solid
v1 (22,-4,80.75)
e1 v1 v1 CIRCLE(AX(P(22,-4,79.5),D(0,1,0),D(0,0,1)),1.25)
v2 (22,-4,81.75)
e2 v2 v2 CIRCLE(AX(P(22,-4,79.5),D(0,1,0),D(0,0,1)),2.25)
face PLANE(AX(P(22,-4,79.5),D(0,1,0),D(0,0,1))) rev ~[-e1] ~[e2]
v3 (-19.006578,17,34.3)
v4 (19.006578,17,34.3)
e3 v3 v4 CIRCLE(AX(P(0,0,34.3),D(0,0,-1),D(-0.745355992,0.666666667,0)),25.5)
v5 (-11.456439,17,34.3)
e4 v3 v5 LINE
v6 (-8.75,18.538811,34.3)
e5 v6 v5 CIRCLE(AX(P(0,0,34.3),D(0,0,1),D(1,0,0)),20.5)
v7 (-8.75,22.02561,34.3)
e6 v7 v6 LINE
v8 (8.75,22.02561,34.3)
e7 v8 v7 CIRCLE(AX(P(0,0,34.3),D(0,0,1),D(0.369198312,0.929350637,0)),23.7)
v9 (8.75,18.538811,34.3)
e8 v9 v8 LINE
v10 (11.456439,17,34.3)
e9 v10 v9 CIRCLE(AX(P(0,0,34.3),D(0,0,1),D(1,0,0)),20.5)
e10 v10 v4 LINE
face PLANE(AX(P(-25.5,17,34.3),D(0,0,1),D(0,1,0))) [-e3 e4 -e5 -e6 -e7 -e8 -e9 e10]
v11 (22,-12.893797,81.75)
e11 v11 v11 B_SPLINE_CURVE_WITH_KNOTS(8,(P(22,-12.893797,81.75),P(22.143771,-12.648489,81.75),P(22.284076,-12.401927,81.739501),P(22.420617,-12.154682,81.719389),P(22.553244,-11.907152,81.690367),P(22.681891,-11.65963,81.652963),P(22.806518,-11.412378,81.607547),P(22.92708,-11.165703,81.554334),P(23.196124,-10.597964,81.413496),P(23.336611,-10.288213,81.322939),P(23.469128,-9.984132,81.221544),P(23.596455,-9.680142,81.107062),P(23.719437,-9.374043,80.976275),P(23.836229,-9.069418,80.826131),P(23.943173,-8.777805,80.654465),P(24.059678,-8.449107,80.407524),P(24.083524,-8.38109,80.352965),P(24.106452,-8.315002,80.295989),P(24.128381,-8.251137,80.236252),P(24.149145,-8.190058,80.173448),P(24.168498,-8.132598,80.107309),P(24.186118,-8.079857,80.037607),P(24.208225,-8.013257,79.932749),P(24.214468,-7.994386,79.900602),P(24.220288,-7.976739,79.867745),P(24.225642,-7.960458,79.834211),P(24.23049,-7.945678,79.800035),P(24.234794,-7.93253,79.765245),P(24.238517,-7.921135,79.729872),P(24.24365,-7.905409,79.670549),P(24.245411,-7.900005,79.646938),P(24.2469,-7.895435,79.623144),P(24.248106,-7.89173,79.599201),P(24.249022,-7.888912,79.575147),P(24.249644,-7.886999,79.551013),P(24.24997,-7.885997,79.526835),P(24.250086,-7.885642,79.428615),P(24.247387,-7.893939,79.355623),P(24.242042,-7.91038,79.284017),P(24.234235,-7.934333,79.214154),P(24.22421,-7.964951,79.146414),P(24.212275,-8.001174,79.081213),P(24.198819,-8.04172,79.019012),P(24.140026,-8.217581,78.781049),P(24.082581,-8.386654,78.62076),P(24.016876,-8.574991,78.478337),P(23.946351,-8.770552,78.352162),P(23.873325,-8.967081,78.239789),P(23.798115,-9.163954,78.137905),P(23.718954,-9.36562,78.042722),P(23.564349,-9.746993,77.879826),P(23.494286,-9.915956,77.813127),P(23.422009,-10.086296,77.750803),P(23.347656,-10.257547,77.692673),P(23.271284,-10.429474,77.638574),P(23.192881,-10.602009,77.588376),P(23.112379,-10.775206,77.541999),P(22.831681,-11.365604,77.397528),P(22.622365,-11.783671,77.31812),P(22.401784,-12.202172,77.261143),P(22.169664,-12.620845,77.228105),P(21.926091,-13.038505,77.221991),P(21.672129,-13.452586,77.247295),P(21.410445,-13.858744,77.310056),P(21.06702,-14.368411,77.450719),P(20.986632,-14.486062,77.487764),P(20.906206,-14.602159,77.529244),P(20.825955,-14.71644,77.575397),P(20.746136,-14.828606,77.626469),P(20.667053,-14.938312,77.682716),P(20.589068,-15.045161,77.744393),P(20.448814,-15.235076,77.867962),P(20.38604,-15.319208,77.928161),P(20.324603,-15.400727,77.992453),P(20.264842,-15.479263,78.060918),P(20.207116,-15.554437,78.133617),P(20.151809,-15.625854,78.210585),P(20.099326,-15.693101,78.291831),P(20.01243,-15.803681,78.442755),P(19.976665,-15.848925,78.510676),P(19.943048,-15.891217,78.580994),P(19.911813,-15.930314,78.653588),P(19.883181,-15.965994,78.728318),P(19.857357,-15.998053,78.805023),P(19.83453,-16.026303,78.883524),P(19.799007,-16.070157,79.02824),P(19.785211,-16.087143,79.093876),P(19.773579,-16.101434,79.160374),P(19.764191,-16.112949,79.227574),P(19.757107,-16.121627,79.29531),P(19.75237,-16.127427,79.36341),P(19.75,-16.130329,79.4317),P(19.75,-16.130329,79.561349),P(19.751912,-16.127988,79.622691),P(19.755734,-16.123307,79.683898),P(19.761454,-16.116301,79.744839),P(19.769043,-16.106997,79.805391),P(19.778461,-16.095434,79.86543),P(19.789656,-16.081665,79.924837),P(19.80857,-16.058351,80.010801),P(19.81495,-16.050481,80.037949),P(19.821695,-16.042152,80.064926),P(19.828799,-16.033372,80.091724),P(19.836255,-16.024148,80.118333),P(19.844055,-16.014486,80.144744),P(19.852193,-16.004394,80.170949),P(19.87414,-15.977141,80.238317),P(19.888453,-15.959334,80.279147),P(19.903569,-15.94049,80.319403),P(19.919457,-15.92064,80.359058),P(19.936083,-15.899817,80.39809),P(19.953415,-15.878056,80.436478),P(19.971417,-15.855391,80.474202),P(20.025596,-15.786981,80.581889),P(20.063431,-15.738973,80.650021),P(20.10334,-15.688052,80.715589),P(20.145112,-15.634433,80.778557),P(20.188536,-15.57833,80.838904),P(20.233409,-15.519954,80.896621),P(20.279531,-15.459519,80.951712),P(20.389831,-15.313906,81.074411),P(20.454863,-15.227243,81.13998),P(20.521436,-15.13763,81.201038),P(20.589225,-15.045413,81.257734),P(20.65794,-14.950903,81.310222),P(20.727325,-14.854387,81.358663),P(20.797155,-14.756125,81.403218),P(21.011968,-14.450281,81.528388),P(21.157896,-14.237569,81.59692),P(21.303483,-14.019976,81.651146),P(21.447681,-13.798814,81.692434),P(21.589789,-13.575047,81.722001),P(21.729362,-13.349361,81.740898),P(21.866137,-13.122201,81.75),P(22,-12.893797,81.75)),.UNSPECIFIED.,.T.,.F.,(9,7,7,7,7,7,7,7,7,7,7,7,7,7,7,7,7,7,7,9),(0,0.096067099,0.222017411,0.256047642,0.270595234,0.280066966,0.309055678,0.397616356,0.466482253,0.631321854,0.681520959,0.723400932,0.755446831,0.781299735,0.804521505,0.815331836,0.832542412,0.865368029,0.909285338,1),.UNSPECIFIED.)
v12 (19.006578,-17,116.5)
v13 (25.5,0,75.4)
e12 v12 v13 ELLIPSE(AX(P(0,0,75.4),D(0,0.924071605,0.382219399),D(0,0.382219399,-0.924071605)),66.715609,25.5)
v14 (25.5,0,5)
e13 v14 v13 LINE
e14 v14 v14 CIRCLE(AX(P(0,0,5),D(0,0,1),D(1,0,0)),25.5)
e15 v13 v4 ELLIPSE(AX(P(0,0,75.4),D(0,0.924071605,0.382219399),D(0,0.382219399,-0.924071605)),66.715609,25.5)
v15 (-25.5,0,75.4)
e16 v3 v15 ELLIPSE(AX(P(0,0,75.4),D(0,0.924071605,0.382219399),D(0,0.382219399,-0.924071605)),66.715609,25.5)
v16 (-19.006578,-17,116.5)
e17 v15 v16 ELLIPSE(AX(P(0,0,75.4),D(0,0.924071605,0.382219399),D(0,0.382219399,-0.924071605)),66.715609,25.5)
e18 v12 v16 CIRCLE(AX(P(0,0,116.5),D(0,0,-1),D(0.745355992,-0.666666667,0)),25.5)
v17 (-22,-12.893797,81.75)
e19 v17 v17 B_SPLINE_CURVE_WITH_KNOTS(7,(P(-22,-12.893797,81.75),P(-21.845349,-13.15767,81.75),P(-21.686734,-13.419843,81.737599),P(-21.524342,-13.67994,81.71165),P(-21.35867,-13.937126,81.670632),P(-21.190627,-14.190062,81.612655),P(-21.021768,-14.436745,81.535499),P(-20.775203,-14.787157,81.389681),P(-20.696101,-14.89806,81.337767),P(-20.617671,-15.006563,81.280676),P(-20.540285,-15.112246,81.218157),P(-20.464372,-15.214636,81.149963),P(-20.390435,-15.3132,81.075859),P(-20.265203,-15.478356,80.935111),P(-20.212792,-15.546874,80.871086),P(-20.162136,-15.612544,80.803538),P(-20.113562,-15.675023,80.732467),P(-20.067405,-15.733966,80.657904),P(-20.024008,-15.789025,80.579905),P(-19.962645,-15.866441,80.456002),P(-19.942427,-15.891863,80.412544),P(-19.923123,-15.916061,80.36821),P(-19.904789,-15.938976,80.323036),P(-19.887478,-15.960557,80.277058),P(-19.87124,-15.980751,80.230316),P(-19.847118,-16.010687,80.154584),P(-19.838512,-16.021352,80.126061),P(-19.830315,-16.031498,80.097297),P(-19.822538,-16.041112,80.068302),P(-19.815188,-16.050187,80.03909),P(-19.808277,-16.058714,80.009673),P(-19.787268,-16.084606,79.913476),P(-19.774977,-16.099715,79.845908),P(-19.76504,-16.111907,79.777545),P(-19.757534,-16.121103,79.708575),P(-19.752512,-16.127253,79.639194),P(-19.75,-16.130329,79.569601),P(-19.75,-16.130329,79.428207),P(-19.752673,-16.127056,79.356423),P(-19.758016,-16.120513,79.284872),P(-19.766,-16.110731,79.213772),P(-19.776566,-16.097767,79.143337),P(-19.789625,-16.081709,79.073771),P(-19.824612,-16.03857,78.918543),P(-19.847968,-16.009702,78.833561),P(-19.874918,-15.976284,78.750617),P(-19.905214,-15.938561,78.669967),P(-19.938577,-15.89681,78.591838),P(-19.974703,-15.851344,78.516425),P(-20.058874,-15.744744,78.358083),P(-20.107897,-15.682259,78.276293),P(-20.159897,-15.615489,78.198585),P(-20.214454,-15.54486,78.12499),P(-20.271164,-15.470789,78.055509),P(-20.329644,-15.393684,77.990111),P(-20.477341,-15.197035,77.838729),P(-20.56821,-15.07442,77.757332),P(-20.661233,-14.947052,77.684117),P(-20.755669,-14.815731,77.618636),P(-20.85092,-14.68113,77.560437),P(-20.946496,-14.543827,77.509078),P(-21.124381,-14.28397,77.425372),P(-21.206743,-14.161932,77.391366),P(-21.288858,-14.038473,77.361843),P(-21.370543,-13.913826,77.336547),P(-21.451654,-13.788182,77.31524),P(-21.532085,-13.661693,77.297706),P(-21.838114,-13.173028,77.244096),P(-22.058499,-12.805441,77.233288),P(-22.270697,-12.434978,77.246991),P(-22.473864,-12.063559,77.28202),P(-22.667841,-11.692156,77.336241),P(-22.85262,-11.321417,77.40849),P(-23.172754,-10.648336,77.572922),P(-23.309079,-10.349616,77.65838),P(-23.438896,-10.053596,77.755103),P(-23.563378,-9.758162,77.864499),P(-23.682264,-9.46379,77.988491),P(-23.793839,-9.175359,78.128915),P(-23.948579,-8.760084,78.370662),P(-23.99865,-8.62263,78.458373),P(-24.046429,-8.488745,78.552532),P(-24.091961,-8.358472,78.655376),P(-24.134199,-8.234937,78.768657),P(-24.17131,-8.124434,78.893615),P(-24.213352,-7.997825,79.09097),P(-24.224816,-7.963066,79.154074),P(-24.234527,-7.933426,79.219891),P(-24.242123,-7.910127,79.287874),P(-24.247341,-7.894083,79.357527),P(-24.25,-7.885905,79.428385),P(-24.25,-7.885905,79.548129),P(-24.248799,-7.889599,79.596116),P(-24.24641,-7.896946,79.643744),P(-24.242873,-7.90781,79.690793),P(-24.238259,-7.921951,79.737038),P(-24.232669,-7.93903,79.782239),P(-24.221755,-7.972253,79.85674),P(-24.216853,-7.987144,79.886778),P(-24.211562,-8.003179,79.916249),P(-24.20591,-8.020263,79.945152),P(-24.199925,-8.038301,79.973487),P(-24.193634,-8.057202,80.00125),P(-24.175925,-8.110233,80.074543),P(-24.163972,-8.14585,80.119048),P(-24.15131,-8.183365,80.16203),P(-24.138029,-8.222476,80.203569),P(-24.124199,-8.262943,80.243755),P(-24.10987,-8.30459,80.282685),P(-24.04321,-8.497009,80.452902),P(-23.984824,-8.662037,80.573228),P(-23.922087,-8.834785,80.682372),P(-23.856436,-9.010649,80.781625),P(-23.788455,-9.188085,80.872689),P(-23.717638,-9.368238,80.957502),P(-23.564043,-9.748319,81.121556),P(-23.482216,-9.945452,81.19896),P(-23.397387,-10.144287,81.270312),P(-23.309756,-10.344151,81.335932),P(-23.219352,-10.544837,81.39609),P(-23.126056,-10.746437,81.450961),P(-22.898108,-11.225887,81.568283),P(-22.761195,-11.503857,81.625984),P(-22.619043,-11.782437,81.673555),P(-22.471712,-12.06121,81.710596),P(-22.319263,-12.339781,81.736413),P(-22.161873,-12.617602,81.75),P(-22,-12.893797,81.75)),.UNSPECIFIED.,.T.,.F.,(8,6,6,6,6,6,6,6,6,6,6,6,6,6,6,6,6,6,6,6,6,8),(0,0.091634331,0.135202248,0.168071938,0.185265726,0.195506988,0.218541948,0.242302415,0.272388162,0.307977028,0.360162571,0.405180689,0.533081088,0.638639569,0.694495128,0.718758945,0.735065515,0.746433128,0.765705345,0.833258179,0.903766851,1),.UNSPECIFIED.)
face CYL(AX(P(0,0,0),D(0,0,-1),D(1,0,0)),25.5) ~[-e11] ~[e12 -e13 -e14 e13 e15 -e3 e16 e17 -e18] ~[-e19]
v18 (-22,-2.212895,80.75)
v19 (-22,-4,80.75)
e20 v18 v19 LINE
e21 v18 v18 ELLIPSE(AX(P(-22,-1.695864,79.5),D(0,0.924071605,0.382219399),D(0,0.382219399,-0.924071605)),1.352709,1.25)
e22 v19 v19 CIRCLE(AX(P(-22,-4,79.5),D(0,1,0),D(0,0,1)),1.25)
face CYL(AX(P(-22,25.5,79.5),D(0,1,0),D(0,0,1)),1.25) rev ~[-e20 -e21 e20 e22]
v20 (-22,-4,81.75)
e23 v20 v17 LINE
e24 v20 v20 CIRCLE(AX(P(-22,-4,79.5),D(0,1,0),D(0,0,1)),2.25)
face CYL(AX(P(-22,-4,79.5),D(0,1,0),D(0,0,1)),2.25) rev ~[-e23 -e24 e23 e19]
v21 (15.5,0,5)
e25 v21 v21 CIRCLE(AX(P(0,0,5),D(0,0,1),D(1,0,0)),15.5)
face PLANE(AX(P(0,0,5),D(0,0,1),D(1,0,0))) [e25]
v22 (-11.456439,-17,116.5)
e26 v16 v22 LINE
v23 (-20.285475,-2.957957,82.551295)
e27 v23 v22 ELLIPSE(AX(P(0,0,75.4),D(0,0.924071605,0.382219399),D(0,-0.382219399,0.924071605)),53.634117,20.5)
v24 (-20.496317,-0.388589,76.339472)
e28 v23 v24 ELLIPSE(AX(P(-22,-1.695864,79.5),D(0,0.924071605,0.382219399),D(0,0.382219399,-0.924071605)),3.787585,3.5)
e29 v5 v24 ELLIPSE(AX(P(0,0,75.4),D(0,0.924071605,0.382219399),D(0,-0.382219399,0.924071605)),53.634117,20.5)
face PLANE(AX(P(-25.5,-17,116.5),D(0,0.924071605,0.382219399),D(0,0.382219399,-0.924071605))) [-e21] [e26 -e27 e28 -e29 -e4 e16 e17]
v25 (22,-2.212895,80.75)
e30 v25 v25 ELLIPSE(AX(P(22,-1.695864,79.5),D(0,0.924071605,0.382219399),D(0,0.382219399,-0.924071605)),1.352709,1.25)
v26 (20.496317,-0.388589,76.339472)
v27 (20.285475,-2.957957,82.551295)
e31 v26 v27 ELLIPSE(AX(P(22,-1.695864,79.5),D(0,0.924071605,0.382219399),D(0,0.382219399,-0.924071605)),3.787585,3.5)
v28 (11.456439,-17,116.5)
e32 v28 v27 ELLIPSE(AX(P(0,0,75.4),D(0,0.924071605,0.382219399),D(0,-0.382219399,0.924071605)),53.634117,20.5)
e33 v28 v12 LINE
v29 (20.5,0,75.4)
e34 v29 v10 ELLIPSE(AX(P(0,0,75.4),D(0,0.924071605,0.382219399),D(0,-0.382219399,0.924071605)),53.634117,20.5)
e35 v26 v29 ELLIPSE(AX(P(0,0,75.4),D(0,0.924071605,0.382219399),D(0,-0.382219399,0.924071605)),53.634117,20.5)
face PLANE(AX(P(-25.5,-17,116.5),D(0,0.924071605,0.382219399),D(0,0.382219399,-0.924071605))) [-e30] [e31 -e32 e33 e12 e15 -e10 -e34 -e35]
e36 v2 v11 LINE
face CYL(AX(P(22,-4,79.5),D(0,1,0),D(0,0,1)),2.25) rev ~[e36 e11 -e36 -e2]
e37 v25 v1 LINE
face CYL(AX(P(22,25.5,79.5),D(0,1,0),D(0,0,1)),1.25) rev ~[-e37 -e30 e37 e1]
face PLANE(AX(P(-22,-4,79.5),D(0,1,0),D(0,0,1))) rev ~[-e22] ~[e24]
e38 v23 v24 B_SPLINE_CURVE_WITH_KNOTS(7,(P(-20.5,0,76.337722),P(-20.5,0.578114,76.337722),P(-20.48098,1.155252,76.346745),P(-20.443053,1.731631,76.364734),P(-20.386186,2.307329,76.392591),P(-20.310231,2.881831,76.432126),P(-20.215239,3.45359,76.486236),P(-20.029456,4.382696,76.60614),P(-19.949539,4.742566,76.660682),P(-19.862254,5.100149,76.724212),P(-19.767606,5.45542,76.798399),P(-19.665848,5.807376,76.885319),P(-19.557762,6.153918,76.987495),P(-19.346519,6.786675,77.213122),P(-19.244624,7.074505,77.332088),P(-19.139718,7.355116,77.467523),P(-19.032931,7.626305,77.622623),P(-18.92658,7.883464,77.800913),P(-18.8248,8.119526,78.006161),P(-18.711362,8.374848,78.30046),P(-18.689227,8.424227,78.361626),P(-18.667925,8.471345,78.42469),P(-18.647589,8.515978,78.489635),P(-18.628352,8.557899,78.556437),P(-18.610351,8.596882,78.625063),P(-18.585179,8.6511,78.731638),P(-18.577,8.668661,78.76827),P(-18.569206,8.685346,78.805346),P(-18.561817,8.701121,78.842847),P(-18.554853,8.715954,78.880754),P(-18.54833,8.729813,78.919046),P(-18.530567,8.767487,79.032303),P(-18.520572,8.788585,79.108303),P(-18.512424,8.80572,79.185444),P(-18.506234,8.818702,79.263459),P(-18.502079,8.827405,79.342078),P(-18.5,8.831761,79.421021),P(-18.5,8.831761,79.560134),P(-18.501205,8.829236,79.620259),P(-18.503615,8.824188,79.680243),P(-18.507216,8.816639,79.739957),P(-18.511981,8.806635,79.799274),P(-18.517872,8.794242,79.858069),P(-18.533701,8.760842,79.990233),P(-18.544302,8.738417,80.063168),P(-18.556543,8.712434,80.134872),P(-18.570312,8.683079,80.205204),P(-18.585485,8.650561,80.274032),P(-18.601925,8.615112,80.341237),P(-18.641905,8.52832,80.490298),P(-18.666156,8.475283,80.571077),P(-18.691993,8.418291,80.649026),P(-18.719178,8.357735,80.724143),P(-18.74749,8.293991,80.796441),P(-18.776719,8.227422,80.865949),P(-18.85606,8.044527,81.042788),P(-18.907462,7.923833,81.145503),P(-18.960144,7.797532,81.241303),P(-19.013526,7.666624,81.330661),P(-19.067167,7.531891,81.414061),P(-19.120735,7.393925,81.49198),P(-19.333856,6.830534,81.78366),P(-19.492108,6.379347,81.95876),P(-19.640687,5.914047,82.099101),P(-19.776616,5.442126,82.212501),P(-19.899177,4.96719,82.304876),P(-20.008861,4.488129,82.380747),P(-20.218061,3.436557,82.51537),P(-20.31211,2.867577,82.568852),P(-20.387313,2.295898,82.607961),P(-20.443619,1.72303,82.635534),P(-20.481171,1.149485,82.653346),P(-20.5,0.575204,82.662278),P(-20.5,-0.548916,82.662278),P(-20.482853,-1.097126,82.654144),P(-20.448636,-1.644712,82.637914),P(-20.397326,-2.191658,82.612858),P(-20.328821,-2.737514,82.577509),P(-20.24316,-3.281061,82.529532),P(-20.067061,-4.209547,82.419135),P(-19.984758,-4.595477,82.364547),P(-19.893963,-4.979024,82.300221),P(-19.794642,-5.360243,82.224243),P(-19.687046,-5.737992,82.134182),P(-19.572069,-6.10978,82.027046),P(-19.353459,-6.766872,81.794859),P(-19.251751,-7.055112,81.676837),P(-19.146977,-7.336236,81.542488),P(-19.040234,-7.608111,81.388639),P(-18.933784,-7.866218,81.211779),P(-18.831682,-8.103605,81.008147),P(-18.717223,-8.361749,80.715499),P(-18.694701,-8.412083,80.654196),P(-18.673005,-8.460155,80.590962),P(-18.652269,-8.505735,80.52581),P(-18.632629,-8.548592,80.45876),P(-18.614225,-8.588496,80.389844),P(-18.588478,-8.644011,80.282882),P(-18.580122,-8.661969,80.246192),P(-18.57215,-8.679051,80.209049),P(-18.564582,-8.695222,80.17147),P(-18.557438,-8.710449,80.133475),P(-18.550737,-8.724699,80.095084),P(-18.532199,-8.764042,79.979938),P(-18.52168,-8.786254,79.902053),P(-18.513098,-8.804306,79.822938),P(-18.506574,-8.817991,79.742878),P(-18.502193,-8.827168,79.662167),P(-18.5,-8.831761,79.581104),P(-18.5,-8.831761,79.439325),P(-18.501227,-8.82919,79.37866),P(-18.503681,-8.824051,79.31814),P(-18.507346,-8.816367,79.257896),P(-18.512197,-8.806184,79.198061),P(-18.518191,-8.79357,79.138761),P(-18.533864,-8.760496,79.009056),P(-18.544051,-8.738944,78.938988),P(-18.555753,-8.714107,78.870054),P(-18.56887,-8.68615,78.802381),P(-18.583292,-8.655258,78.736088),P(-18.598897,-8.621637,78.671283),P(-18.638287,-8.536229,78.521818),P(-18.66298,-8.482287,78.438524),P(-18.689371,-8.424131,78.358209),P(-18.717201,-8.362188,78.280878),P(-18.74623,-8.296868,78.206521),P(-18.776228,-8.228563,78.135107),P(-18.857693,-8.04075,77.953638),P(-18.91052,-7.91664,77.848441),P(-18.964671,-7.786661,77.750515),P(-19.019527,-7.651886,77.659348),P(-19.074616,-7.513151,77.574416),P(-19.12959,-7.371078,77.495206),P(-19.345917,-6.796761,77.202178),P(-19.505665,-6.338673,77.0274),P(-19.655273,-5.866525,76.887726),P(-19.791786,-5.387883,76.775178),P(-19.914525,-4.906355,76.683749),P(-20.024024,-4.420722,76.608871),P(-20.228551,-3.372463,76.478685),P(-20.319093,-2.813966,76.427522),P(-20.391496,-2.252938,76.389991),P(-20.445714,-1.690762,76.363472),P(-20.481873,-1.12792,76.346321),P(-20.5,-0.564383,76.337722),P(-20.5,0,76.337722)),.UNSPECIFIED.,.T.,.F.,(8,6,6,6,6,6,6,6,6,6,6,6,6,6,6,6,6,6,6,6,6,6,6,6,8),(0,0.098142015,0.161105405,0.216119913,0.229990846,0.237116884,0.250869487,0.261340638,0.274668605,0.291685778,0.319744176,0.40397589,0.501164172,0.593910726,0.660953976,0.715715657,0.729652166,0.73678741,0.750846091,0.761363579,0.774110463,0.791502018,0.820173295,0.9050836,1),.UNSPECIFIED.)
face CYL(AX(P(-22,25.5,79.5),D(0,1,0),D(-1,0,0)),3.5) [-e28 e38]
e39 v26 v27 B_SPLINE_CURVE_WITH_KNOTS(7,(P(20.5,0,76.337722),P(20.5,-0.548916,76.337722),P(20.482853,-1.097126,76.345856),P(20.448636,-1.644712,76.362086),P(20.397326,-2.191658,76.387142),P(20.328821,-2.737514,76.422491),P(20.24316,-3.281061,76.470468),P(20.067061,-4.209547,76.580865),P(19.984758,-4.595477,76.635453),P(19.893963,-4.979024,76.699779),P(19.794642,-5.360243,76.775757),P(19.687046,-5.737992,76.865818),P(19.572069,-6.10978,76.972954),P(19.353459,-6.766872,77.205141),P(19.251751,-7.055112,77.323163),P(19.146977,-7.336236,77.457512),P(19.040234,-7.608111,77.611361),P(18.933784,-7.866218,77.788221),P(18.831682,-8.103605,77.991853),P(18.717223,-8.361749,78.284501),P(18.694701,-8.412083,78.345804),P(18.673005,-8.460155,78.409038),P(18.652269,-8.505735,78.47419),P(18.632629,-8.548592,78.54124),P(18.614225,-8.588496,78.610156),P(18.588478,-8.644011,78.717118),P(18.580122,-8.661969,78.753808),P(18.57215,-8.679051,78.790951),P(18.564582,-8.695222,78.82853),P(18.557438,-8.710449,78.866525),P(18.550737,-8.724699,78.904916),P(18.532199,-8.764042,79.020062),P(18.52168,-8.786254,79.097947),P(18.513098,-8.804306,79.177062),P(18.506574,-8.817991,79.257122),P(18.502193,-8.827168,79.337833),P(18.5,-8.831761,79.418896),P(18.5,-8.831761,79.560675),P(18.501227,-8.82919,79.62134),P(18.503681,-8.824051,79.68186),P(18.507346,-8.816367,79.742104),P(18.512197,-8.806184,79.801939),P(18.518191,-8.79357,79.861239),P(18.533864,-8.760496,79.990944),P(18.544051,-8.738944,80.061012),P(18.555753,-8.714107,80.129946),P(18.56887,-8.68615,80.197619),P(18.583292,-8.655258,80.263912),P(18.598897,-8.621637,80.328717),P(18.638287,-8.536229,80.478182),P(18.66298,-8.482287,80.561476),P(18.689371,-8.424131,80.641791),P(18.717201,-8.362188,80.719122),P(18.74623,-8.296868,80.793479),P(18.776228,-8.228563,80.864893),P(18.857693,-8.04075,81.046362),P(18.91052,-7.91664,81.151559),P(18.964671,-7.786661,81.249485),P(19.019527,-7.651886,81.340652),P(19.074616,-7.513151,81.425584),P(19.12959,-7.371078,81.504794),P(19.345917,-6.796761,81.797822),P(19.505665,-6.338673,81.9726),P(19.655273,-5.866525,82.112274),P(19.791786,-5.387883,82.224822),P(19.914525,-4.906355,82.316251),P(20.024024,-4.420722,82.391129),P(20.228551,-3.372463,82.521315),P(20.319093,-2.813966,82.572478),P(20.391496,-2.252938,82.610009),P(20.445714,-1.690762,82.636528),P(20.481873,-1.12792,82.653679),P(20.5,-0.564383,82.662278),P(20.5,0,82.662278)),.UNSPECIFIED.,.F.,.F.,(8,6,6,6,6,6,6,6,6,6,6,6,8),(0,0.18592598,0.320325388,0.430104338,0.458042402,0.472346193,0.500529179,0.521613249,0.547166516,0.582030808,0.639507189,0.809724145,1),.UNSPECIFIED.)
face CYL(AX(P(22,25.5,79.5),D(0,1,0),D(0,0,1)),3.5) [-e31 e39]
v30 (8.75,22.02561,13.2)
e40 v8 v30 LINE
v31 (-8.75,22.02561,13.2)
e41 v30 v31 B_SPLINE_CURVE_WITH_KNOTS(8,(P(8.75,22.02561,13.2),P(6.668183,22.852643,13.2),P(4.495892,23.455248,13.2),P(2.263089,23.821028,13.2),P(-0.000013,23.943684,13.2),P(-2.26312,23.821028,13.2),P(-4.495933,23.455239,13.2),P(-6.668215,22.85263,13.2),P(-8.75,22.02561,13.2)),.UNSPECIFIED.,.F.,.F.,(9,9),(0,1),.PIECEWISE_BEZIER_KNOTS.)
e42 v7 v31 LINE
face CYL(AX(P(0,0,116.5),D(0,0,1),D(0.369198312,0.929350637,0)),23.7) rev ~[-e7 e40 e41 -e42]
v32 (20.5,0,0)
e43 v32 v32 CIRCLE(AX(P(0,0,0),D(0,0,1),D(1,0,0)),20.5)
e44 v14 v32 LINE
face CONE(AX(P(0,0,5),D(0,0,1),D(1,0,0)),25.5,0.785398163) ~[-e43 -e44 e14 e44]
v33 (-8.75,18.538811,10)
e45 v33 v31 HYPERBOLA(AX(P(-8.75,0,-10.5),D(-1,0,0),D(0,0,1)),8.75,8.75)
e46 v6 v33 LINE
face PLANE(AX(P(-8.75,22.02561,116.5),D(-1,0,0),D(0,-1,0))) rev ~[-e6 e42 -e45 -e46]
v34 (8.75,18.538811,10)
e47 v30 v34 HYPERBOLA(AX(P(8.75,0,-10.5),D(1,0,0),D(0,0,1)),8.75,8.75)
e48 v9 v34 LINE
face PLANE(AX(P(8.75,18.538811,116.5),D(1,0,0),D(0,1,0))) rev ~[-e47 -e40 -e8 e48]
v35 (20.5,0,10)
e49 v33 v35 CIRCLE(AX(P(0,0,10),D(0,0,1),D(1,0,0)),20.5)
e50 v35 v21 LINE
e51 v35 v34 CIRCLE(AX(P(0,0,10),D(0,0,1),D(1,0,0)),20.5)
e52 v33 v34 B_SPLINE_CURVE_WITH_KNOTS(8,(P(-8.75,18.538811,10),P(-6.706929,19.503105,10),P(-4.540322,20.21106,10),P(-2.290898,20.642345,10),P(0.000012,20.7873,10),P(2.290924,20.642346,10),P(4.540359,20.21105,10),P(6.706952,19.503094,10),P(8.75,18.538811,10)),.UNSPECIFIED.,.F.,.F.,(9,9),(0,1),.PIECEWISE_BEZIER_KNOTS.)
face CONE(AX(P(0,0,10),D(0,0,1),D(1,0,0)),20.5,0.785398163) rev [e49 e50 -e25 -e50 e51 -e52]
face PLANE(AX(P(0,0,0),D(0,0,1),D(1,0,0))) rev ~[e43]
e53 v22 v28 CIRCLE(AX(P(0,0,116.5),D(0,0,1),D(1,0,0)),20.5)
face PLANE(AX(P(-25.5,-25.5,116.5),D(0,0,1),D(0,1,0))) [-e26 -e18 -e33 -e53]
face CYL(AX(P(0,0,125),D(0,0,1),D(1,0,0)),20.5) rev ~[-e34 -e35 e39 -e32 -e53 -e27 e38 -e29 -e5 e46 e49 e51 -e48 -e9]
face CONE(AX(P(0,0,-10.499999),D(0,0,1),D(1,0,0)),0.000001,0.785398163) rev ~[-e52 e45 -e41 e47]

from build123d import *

# Parameters (mm, degrees)
SKETCH1_R           = 25.5
BOSS_EXTRUDE1_DEPTH = 125
SKETCH2_R           = 20.5
CUT_EXTRUDE1_DEPTH  = 120
SKETCH8_R           = 3.5
BOSS_EXTRUDE2_DEPTH = 42
SKETCH9_R           = 40.683709713
SKETCH9_R_2         = 25.5
CUT_EXTRUDE7_DEPTH  = 131.09804009
CUT_EXTRUDE2_DEPTH  = 138.390865927
SKETCH10_R          = 1.25
CUT_EXTRUDE9_DEPTH  = 130.705435597
CHAMFER2_SIZE       = 5
SKETCH11_R          = 2.25
CUT_EXTRUDE10_DEPTH = 123.852554041
CUT_EXTRUDE11_REACH = 123.954


with BuildPart() as part:
    # Sketch1 → Boss-Extrude1 (new body)
    with BuildSketch(Plane.XY):
        Circle(SKETCH1_R)
    extrude(amount=BOSS_EXTRUDE1_DEPTH)

    # Sketch2 → Cut-Extrude1 (cut)
    with BuildSketch(Plane.XY.offset(125)):
        Circle(SKETCH2_R)
    extrude(amount=-CUT_EXTRUDE1_DEPTH, mode=Mode.SUBTRACT)

    # Sketch8 → Boss-Extrude2 (add)
    with BuildSketch(Plane(origin=(0, 25.5, 0), x_dir=(1, 0, 0), z_dir=(0, 1, 0))):
        with Locations(Location((22, -79.5, 0), (0, 0, 270))):
            Circle(SKETCH8_R)
        with Locations(Location((-22, -79.5, 0), (0, 0, 180))):
            Circle(SKETCH8_R)
    extrude(amount=-BOSS_EXTRUDE2_DEPTH)

    # Sketch9 → Cut-Extrude7 (cut, through all)
    with BuildSketch(Plane.XY.offset(125)):
        Circle(SKETCH9_R)
        Circle(SKETCH9_R_2, mode=Mode.SUBTRACT)
    extrude(amount=-CUT_EXTRUDE7_DEPTH, mode=Mode.SUBTRACT)

    # Sketch3 → Cut-Extrude2 (cut, through all)
    with BuildSketch(Plane.ZY.offset(25.5)):
        Polygon((116.5, -17), (34.3, 17), (34.3, 25.5), (125, 25.5), (125, -25.5), (116.5, -25.5), align=None)
    extrude(amount=-CUT_EXTRUDE2_DEPTH, mode=Mode.SUBTRACT)

    # Sketch10 → Cut-Extrude9 (cut, through all)
    with BuildSketch(Plane(origin=(0, 25.5, 0), x_dir=(1, 0, 0), z_dir=(0, 1, 0))):
        with Locations(Location((-22, -79.5, 0), (0, 0, 270))):
            Circle(SKETCH10_R)
        with Locations(Location((22, -79.5, 0), (0, 0, 270))):
            Circle(SKETCH10_R)
    extrude(amount=-CUT_EXTRUDE9_DEPTH, mode=Mode.SUBTRACT)

    # Chamfer2
    chamfer2_edges = [part.edges().sort_by_distance(p)[0] for p in [
        (-25.5, 0, 0),
        (-20.5, 0, 5),
    ]]
    chamfer(chamfer2_edges, length=CHAMFER2_SIZE)

    # Sketch11 → Cut-Extrude10 (cut, through all)
    with BuildSketch(Plane(origin=(0, -4, 0), x_dir=(1, 0, 0), z_dir=(0, 1, 0))):
        with Locations(Location((-22, -79.5, 0), (0, 0, 270))):
            Circle(SKETCH11_R)
        with Locations(Location((22, -79.5, 0), (0, 0, 270))):
            Circle(SKETCH11_R)
    extrude(amount=-CUT_EXTRUDE10_DEPTH, mode=Mode.SUBTRACT)

    # Cut-Extrude11: up to this cone (the profile starts inside it)
    cut_extrude11_end = Plane(origin=(0, 0, 116.5), z_dir=(0, 0, 1)).offset(-126.999999) * Cone(1e-06, 378.454, 378.453999, align=(Align.CENTER, Align.CENTER, Align.MIN), mode=Mode.PRIVATE)
    # Sketch12 → Cut-Extrude11 (cut, up to the surface)
    with BuildSketch(Plane.XY.offset(116.5), mode=Mode.PRIVATE) as cut_extrude11_sk1:
        with BuildLine():
            Line((-8.75, 22.025610094), (-8.75, 18.538810641))
            ThreePointArc((-8.75, 18.538810641), (0, 20.5), (8.75, 18.538810641))
            Line((8.75, 18.538810641), (8.75, 22.025610094))
            ThreePointArc((8.75, 22.025610094), (0, 23.7), (-8.75, 22.025610094))
        make_face()
    cut_extrude11_tool1 = extrude(cut_extrude11_sk1.sketch, amount=-CUT_EXTRUDE11_REACH, mode=Mode.PRIVATE) & cut_extrude11_end
    add(cut_extrude11_tool1.solids().sort_by_distance((0, 21.490941, 116.5))[0], mode=Mode.SUBTRACT)


solid = part.part
